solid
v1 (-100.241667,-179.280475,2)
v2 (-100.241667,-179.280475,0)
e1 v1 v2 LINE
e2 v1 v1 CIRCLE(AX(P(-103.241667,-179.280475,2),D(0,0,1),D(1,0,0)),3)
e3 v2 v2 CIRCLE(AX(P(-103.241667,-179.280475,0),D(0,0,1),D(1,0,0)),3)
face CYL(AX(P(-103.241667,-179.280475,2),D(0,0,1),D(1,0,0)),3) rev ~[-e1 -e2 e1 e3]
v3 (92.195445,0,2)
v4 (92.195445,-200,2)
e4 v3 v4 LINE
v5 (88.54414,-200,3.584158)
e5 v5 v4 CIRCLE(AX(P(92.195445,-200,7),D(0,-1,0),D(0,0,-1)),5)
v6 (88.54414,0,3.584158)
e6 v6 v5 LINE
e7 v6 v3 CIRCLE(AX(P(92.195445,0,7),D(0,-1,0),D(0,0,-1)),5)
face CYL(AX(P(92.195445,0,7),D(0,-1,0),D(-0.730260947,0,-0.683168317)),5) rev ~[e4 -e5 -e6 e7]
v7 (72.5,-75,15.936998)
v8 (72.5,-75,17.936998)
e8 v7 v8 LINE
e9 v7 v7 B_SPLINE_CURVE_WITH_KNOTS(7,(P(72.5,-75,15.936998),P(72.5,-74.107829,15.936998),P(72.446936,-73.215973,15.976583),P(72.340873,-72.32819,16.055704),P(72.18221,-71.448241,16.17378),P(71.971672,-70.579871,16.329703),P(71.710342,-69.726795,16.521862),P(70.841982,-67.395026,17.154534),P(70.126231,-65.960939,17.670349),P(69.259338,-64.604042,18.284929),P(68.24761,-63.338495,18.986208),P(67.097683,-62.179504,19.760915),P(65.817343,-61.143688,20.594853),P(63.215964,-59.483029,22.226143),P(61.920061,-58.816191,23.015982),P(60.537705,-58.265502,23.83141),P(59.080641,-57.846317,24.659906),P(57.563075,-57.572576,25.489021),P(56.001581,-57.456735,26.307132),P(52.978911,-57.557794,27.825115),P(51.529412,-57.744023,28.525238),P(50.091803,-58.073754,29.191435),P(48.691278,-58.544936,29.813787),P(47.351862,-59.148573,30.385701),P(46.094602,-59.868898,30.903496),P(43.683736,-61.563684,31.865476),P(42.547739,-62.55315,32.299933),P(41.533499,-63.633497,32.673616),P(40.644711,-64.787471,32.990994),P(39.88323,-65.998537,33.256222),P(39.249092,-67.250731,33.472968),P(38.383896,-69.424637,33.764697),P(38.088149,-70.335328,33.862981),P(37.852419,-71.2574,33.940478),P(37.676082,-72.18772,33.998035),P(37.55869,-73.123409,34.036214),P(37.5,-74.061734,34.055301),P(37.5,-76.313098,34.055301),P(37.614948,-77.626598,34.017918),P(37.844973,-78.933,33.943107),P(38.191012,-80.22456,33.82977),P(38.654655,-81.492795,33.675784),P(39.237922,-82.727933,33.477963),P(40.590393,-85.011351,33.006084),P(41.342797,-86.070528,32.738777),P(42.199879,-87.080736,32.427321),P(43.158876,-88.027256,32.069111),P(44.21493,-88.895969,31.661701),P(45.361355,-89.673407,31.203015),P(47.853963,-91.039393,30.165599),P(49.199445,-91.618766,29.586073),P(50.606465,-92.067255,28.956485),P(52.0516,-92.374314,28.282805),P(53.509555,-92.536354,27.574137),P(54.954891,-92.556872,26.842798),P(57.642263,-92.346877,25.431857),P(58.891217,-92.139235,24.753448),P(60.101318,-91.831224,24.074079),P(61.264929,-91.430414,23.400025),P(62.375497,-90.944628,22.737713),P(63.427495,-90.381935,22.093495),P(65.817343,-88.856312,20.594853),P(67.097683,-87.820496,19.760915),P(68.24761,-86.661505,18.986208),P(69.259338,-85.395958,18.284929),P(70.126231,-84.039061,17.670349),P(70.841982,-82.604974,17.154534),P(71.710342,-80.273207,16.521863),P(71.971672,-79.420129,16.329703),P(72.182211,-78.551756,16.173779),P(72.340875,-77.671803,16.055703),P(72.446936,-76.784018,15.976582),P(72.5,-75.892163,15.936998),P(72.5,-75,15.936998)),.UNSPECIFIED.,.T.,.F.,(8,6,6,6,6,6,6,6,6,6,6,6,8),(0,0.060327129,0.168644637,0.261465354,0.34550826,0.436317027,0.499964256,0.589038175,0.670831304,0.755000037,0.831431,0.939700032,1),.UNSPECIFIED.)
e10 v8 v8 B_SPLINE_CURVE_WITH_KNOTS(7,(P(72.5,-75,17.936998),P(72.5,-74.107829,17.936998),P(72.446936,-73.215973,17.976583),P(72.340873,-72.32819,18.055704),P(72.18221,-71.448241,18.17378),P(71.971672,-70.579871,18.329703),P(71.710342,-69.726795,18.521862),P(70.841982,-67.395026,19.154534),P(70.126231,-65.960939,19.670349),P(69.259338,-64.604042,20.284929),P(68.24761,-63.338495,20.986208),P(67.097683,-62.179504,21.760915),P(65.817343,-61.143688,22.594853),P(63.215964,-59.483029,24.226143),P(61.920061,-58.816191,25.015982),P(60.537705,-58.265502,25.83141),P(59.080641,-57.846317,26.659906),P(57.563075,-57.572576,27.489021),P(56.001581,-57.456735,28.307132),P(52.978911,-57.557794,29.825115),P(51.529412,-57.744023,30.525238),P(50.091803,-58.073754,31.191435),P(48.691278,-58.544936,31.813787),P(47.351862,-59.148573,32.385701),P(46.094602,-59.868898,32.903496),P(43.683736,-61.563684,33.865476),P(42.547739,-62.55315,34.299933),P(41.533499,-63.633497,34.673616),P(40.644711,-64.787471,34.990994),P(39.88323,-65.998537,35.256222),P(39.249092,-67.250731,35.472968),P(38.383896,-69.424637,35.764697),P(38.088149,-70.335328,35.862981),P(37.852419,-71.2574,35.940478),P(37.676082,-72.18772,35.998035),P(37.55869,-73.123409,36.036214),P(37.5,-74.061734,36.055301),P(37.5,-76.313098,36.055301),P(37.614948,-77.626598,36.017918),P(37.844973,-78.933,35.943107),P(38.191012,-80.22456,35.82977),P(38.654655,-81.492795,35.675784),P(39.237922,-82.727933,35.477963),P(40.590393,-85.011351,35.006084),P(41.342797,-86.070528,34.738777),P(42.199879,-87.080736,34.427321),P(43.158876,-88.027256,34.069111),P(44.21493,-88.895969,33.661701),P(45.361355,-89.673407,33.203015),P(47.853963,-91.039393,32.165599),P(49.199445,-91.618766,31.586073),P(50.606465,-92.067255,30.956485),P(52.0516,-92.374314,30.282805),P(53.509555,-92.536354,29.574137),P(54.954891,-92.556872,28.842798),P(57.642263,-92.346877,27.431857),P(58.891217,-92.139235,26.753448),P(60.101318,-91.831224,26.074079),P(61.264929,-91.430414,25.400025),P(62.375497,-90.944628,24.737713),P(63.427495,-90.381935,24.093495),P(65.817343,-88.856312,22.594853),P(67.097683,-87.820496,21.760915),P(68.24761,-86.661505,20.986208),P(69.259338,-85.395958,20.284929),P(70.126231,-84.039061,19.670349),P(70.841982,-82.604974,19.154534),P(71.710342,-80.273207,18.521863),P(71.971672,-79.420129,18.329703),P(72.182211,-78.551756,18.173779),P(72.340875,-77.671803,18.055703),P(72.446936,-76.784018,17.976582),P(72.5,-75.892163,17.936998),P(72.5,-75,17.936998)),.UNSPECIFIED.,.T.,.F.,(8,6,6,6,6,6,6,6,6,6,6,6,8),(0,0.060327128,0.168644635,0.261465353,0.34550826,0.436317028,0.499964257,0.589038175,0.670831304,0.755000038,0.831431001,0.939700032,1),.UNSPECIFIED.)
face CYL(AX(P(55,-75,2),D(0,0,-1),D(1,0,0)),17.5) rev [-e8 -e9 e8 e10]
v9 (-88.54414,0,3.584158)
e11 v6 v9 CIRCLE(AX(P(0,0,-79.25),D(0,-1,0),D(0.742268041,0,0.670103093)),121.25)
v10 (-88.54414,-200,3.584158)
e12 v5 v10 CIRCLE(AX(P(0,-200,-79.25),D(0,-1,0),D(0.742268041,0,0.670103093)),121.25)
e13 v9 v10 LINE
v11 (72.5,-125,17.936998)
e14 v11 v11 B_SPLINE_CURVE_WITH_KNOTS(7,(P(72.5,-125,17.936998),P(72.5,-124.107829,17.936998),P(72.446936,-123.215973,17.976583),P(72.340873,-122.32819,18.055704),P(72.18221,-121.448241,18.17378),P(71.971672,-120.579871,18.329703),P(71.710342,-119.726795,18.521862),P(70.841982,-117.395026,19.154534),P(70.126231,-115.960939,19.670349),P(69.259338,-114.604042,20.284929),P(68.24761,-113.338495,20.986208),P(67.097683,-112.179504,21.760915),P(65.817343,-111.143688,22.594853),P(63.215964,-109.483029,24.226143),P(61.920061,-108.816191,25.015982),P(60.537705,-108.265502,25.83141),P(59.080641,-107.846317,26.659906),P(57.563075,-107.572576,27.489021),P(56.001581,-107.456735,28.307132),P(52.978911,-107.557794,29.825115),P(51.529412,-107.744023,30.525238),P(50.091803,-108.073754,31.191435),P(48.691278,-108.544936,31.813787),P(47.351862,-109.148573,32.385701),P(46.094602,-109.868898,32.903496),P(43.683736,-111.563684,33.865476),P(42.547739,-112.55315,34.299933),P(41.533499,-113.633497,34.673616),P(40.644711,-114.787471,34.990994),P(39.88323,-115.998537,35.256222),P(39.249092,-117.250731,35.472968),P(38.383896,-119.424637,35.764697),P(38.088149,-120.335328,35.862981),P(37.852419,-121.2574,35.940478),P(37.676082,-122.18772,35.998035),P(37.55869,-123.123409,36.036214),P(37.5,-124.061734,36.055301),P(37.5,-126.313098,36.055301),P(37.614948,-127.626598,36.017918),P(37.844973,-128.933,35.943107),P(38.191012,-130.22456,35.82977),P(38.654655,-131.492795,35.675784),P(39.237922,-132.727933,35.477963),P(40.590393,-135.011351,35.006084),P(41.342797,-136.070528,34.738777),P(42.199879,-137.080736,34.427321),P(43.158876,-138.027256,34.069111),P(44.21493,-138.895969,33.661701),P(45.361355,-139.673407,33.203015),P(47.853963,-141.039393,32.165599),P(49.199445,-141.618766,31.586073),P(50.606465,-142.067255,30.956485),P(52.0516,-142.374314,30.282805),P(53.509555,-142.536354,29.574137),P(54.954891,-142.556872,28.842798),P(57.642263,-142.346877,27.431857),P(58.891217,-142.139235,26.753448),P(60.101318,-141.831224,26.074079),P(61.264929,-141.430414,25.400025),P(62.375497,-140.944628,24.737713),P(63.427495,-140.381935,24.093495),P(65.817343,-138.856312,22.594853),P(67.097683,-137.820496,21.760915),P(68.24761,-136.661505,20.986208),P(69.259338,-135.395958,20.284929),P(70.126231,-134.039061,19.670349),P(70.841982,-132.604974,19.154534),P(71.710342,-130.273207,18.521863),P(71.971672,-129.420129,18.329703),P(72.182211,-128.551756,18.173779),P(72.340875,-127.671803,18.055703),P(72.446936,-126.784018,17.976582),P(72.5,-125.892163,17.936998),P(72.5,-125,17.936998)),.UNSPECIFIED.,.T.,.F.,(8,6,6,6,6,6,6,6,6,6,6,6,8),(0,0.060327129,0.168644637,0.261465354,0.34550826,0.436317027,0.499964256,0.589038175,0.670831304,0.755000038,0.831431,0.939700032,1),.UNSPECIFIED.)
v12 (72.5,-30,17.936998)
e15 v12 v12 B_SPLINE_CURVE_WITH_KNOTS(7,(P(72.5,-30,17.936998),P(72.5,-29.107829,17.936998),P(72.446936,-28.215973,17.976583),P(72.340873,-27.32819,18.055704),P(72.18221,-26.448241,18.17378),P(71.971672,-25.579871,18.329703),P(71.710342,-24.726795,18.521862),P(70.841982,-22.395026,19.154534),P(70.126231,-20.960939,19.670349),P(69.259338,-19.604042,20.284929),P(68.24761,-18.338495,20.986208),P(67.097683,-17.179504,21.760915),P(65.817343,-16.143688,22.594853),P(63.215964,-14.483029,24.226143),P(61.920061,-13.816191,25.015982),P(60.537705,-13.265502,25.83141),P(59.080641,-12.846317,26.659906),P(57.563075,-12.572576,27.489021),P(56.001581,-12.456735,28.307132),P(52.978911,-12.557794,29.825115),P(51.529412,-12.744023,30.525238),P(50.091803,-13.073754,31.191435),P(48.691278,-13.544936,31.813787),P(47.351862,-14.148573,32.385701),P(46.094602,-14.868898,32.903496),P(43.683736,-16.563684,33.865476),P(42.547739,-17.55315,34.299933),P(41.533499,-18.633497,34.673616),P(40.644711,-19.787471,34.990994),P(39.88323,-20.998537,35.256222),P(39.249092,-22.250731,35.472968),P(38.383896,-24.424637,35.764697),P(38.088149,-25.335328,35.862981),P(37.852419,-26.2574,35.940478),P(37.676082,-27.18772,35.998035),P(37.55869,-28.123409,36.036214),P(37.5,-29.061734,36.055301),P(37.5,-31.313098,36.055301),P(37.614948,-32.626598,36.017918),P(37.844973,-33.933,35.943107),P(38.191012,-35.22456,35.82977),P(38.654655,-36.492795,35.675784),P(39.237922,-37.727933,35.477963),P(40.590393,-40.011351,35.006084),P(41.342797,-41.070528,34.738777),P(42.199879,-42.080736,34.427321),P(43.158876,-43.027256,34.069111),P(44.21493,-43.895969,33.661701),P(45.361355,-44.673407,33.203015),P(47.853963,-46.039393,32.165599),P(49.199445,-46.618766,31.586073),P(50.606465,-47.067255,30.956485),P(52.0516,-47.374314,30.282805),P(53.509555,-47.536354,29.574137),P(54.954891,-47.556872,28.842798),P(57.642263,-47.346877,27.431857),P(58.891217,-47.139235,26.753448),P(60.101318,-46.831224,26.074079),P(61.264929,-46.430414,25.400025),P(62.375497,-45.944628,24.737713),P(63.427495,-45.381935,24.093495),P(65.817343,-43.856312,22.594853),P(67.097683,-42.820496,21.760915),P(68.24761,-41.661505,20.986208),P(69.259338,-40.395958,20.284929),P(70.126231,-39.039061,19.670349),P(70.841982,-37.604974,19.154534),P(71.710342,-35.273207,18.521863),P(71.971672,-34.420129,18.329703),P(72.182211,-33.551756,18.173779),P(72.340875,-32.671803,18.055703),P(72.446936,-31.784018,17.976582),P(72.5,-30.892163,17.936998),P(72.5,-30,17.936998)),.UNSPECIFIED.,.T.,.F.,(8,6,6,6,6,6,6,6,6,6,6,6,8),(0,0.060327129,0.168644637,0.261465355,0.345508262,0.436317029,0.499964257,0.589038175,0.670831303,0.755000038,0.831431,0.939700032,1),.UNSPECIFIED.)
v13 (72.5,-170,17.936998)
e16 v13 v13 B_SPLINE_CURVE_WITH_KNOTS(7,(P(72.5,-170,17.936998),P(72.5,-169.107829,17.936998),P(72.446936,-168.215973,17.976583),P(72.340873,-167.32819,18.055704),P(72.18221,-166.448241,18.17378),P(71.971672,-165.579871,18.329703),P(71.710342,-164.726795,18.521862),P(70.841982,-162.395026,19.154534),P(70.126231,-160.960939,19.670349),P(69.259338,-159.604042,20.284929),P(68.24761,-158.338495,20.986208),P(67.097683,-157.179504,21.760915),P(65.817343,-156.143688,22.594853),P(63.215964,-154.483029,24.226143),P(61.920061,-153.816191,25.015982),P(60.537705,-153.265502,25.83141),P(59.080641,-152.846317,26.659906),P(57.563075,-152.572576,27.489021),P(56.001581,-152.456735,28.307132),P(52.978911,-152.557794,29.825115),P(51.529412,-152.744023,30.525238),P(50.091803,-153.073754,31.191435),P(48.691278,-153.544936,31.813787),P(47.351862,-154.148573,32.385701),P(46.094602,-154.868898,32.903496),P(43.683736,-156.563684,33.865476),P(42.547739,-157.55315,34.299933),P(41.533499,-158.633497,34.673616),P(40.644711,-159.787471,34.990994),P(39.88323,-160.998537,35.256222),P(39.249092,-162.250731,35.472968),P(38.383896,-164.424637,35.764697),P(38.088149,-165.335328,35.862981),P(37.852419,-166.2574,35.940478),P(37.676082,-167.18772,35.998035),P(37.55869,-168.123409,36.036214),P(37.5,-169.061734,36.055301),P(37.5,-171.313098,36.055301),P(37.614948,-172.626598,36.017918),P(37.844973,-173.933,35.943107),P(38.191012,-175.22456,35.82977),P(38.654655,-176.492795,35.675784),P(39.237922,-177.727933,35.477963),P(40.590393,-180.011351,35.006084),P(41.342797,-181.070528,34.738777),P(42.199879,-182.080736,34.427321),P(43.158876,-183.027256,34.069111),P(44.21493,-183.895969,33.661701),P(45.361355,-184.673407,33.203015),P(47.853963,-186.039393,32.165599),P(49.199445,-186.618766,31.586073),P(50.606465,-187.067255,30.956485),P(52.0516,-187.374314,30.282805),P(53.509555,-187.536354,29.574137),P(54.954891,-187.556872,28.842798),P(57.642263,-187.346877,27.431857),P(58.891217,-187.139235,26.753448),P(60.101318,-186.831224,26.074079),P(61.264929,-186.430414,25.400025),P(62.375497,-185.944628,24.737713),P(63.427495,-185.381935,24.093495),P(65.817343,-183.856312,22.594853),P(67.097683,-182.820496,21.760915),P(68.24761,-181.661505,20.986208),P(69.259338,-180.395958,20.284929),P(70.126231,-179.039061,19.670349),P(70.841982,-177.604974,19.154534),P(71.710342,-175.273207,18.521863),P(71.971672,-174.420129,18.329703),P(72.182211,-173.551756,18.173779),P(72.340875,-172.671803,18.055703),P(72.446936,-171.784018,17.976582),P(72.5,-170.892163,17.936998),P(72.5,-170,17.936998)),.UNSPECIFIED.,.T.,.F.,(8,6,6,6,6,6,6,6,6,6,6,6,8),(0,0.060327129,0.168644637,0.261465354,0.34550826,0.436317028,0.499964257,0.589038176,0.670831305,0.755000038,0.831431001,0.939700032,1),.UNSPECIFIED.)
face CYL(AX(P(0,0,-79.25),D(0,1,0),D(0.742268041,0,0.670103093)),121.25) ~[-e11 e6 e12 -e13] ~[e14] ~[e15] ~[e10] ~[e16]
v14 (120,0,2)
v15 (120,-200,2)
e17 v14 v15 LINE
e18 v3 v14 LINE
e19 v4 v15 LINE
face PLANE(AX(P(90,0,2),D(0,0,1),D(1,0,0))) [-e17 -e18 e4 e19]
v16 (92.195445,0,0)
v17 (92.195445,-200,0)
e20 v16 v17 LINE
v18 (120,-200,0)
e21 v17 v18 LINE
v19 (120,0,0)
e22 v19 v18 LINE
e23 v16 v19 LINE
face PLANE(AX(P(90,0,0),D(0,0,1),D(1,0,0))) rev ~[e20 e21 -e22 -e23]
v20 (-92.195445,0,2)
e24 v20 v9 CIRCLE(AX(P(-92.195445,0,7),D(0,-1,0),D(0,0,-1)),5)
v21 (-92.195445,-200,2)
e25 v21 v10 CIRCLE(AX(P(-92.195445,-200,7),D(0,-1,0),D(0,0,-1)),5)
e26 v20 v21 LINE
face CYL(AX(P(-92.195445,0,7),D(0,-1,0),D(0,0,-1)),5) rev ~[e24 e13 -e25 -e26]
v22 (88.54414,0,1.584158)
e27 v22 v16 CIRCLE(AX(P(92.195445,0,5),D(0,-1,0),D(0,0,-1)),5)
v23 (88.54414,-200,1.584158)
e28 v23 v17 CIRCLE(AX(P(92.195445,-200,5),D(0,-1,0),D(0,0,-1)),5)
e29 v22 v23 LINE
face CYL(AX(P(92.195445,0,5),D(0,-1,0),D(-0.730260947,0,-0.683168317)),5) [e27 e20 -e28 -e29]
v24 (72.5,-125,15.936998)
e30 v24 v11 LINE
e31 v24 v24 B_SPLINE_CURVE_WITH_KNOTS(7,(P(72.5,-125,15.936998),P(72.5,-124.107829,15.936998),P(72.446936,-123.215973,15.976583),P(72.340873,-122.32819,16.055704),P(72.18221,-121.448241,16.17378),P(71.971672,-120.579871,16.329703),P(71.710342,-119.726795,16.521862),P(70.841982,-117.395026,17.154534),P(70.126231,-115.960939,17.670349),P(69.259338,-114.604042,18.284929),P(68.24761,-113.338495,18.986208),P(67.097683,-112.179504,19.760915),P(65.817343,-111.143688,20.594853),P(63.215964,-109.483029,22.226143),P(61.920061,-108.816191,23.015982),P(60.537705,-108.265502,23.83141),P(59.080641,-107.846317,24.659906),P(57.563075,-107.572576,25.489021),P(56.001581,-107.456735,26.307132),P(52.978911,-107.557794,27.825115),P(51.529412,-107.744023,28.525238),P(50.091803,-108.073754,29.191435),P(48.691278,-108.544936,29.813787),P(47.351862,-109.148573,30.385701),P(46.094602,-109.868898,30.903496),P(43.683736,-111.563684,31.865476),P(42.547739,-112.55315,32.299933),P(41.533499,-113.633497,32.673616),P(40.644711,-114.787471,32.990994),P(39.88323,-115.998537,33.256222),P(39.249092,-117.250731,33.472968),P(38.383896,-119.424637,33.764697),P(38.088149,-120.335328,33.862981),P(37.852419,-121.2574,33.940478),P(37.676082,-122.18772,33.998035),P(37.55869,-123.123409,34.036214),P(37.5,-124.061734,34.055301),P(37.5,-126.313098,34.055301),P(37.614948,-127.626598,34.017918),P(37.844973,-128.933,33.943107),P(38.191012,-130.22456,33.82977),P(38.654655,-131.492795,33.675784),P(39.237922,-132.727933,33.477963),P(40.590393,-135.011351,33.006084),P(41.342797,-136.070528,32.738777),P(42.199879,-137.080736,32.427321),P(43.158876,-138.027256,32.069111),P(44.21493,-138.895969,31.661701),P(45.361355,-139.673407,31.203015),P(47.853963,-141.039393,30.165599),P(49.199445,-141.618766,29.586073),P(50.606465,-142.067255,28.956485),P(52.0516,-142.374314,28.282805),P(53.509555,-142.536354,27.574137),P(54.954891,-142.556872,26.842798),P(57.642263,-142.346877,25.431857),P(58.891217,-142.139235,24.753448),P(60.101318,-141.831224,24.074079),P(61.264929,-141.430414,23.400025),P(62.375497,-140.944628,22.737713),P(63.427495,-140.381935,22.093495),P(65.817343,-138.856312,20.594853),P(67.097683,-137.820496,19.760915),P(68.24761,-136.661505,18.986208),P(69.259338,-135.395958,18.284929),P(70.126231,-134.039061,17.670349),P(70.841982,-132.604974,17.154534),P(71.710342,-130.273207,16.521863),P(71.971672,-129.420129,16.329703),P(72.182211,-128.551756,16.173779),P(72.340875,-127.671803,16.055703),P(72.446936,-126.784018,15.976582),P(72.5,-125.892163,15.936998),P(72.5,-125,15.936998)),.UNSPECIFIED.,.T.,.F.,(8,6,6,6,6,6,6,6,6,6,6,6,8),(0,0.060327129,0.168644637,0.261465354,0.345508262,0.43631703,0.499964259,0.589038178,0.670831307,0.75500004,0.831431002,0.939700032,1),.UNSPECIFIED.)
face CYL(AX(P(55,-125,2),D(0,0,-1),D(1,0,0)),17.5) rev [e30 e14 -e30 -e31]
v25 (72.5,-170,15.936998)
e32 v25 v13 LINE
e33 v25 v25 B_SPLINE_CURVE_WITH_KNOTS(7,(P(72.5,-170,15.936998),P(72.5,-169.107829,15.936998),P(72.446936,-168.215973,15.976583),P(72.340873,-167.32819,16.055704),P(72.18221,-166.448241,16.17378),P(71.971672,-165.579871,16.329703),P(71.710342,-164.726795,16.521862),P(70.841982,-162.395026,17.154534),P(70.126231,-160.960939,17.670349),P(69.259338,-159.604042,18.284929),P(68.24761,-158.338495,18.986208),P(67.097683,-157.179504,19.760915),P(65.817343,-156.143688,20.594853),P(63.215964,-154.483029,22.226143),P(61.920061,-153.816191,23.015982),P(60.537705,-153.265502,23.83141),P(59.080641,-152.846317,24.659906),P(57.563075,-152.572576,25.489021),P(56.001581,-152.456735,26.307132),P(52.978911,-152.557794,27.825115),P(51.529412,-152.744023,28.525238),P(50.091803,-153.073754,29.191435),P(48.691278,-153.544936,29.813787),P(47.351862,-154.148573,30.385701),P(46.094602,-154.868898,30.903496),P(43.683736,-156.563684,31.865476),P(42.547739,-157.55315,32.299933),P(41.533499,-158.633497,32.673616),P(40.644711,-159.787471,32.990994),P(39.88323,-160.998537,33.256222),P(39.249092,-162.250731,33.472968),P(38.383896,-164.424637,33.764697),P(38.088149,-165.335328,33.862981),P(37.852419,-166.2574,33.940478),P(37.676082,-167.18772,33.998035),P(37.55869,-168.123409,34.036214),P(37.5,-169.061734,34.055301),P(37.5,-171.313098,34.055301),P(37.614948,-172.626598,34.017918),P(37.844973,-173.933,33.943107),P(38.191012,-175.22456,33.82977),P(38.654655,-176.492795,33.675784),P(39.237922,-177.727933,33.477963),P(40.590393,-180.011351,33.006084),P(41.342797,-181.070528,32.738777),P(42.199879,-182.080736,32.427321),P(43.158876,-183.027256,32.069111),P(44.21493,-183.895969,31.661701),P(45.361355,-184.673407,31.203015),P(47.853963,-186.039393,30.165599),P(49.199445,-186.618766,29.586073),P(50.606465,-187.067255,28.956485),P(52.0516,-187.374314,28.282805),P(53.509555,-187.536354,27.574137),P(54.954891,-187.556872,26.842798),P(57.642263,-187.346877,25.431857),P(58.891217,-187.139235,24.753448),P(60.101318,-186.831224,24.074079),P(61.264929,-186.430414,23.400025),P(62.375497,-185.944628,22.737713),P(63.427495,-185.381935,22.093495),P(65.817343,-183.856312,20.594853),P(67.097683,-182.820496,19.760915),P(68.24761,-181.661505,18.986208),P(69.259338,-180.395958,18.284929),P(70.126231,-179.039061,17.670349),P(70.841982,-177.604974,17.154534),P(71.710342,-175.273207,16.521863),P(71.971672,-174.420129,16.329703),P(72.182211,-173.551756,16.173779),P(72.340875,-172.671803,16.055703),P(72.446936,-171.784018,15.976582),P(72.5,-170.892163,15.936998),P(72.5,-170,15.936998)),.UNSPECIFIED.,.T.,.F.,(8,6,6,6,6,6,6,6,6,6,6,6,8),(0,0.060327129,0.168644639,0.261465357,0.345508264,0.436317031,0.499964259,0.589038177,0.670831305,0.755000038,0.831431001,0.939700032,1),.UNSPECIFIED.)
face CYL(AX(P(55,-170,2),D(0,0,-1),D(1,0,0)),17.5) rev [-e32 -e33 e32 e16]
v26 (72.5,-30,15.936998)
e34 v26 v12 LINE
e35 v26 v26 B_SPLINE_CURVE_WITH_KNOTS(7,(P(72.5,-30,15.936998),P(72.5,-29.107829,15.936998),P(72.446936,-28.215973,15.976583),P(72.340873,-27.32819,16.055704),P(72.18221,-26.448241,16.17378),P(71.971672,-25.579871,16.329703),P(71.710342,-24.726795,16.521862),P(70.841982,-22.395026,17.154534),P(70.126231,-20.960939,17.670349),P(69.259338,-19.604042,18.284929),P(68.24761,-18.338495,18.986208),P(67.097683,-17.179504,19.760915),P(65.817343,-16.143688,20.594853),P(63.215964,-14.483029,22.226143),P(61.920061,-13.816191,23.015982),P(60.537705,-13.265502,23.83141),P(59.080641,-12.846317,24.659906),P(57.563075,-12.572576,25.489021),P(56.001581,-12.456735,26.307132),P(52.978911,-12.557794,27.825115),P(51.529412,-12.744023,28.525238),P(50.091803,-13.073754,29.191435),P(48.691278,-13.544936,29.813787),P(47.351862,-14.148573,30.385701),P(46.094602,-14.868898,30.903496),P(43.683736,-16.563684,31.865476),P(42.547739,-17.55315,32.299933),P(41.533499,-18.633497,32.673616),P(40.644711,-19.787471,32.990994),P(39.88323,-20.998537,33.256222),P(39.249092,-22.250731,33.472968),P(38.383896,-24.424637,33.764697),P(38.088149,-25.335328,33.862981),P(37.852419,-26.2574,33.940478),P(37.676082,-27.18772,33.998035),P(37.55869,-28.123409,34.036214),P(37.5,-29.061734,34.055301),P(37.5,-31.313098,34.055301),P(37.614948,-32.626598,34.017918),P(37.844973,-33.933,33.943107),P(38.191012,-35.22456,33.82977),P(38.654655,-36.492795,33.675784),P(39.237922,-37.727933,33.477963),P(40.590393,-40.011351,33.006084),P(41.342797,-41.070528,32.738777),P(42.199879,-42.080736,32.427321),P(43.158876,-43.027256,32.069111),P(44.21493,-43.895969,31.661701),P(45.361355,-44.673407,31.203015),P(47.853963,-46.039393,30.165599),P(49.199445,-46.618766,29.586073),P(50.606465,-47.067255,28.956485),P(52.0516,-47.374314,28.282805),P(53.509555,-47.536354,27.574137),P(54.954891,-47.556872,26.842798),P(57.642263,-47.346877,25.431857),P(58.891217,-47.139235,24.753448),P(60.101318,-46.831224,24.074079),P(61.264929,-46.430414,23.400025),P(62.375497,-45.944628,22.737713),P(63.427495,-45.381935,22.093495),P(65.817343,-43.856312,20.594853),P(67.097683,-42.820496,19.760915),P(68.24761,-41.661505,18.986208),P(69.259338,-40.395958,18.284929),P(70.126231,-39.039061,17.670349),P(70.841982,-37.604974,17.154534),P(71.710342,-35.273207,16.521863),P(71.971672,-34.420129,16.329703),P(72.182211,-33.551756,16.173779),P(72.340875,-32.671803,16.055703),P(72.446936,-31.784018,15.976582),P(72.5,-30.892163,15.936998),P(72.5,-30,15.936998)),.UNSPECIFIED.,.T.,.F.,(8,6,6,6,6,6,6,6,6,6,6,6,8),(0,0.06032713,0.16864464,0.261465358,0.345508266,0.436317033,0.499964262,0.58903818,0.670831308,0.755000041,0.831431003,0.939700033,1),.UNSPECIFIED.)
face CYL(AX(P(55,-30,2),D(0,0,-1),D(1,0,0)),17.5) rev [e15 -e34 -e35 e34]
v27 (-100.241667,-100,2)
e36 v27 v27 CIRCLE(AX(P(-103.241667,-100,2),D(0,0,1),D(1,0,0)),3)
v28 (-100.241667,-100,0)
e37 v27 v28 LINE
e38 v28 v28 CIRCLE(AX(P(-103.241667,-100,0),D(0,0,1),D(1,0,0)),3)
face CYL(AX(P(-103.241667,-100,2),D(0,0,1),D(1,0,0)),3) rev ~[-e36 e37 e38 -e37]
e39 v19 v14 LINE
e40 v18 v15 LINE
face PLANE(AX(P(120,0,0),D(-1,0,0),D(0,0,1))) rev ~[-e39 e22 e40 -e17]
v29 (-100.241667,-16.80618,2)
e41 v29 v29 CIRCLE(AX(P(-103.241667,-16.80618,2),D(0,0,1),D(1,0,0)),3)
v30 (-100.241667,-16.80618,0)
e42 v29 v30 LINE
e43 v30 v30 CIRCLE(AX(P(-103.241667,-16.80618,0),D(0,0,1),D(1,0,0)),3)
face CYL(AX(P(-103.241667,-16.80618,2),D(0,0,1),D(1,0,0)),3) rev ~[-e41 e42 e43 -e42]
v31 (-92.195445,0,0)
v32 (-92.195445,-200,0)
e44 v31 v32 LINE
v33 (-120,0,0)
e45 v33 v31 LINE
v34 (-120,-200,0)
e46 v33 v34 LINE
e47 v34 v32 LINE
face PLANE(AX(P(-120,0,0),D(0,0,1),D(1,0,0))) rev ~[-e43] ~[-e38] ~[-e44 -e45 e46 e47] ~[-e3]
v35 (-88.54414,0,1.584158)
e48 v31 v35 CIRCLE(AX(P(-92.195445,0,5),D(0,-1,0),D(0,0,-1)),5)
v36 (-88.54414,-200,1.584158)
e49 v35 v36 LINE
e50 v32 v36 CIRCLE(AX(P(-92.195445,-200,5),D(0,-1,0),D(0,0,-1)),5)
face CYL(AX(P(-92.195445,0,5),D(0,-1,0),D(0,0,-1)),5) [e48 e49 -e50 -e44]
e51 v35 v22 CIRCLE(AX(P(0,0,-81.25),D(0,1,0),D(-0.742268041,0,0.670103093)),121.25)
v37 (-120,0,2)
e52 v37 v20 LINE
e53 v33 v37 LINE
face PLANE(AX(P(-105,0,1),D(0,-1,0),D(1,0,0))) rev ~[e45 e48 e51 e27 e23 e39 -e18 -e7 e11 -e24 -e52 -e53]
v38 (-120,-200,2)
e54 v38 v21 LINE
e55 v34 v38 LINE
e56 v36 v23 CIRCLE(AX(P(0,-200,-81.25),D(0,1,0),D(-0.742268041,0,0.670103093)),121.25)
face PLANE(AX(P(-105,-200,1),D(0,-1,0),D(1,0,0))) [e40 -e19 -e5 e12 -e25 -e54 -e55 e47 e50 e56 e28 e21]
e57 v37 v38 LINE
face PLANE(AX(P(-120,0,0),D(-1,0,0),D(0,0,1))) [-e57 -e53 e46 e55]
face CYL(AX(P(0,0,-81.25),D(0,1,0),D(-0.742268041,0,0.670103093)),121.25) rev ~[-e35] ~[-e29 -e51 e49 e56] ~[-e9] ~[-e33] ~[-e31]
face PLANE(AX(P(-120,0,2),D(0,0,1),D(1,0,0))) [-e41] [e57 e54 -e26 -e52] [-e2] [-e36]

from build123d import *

# Parameters (mm, degrees)
F0_W     = 30
F0_H     = 2
F1_DEPTH = 200
F2_R     = 3
F3_DEPTH = 25
F2_R_2   = 17.5
F4_DEPTH = 50
F5_R     = 5
F6_R     = 5


with BuildPart() as f1:
    # F0 (on Front) → F1 (new body)
    with BuildSketch(Plane.XZ):
        with Locations((-105, 1)):
            Rectangle(F0_W, F0_H)
        with BuildLine():
            Line((-90, 2), (-90, 0))
            ThreePointArc((-90, 0), (0, 40), (90, 0))
            Line((90, 0), (90, 2))
            ThreePointArc((90, 2), (0, 42), (-90, 2))
        make_face()
        with Locations((105, 1)):
            Rectangle(F0_W, F0_H)
    extrude(amount=F1_DEPTH)

    # F2 (on face) → F3 (cut)
    with BuildSketch(Plane.XY.offset(2)):
        with Locations((-103.241667, -16.80618)):
            Circle(F2_R)
        with Locations((-103.241667, -100)):
            Circle(F2_R)
        with Locations((-103.241667, -179.280475)):
            Circle(F2_R)
    extrude(amount=-F3_DEPTH, mode=Mode.SUBTRACT)

    # F2 (on face) → F4 (cut)
    with BuildSketch(Plane.XY.offset(2)):
        with Locations((55, -30)):
            Circle(F2_R_2)
        with Locations((55, -75)):
            Circle(F2_R_2)
        with Locations((55, -125)):
            Circle(F2_R_2)
        with Locations((55, -170)):
            Circle(F2_R_2)
    extrude(amount=F4_DEPTH, mode=Mode.SUBTRACT)

    # F5
    f5_edges = [f1.edges().sort_by_distance(p)[0] for p in [
        (-90, -100, 0),
        (-90, -100, 2),
    ]]
    fillet(f5_edges, radius=F5_R)

    # F6
    f6_edges = [f1.edges().sort_by_distance(p)[0] for p in [
        (90, -100, 2),
        (90, -100, 0),
    ]]
    fillet(f6_edges, radius=F6_R)


solid = f1.part
